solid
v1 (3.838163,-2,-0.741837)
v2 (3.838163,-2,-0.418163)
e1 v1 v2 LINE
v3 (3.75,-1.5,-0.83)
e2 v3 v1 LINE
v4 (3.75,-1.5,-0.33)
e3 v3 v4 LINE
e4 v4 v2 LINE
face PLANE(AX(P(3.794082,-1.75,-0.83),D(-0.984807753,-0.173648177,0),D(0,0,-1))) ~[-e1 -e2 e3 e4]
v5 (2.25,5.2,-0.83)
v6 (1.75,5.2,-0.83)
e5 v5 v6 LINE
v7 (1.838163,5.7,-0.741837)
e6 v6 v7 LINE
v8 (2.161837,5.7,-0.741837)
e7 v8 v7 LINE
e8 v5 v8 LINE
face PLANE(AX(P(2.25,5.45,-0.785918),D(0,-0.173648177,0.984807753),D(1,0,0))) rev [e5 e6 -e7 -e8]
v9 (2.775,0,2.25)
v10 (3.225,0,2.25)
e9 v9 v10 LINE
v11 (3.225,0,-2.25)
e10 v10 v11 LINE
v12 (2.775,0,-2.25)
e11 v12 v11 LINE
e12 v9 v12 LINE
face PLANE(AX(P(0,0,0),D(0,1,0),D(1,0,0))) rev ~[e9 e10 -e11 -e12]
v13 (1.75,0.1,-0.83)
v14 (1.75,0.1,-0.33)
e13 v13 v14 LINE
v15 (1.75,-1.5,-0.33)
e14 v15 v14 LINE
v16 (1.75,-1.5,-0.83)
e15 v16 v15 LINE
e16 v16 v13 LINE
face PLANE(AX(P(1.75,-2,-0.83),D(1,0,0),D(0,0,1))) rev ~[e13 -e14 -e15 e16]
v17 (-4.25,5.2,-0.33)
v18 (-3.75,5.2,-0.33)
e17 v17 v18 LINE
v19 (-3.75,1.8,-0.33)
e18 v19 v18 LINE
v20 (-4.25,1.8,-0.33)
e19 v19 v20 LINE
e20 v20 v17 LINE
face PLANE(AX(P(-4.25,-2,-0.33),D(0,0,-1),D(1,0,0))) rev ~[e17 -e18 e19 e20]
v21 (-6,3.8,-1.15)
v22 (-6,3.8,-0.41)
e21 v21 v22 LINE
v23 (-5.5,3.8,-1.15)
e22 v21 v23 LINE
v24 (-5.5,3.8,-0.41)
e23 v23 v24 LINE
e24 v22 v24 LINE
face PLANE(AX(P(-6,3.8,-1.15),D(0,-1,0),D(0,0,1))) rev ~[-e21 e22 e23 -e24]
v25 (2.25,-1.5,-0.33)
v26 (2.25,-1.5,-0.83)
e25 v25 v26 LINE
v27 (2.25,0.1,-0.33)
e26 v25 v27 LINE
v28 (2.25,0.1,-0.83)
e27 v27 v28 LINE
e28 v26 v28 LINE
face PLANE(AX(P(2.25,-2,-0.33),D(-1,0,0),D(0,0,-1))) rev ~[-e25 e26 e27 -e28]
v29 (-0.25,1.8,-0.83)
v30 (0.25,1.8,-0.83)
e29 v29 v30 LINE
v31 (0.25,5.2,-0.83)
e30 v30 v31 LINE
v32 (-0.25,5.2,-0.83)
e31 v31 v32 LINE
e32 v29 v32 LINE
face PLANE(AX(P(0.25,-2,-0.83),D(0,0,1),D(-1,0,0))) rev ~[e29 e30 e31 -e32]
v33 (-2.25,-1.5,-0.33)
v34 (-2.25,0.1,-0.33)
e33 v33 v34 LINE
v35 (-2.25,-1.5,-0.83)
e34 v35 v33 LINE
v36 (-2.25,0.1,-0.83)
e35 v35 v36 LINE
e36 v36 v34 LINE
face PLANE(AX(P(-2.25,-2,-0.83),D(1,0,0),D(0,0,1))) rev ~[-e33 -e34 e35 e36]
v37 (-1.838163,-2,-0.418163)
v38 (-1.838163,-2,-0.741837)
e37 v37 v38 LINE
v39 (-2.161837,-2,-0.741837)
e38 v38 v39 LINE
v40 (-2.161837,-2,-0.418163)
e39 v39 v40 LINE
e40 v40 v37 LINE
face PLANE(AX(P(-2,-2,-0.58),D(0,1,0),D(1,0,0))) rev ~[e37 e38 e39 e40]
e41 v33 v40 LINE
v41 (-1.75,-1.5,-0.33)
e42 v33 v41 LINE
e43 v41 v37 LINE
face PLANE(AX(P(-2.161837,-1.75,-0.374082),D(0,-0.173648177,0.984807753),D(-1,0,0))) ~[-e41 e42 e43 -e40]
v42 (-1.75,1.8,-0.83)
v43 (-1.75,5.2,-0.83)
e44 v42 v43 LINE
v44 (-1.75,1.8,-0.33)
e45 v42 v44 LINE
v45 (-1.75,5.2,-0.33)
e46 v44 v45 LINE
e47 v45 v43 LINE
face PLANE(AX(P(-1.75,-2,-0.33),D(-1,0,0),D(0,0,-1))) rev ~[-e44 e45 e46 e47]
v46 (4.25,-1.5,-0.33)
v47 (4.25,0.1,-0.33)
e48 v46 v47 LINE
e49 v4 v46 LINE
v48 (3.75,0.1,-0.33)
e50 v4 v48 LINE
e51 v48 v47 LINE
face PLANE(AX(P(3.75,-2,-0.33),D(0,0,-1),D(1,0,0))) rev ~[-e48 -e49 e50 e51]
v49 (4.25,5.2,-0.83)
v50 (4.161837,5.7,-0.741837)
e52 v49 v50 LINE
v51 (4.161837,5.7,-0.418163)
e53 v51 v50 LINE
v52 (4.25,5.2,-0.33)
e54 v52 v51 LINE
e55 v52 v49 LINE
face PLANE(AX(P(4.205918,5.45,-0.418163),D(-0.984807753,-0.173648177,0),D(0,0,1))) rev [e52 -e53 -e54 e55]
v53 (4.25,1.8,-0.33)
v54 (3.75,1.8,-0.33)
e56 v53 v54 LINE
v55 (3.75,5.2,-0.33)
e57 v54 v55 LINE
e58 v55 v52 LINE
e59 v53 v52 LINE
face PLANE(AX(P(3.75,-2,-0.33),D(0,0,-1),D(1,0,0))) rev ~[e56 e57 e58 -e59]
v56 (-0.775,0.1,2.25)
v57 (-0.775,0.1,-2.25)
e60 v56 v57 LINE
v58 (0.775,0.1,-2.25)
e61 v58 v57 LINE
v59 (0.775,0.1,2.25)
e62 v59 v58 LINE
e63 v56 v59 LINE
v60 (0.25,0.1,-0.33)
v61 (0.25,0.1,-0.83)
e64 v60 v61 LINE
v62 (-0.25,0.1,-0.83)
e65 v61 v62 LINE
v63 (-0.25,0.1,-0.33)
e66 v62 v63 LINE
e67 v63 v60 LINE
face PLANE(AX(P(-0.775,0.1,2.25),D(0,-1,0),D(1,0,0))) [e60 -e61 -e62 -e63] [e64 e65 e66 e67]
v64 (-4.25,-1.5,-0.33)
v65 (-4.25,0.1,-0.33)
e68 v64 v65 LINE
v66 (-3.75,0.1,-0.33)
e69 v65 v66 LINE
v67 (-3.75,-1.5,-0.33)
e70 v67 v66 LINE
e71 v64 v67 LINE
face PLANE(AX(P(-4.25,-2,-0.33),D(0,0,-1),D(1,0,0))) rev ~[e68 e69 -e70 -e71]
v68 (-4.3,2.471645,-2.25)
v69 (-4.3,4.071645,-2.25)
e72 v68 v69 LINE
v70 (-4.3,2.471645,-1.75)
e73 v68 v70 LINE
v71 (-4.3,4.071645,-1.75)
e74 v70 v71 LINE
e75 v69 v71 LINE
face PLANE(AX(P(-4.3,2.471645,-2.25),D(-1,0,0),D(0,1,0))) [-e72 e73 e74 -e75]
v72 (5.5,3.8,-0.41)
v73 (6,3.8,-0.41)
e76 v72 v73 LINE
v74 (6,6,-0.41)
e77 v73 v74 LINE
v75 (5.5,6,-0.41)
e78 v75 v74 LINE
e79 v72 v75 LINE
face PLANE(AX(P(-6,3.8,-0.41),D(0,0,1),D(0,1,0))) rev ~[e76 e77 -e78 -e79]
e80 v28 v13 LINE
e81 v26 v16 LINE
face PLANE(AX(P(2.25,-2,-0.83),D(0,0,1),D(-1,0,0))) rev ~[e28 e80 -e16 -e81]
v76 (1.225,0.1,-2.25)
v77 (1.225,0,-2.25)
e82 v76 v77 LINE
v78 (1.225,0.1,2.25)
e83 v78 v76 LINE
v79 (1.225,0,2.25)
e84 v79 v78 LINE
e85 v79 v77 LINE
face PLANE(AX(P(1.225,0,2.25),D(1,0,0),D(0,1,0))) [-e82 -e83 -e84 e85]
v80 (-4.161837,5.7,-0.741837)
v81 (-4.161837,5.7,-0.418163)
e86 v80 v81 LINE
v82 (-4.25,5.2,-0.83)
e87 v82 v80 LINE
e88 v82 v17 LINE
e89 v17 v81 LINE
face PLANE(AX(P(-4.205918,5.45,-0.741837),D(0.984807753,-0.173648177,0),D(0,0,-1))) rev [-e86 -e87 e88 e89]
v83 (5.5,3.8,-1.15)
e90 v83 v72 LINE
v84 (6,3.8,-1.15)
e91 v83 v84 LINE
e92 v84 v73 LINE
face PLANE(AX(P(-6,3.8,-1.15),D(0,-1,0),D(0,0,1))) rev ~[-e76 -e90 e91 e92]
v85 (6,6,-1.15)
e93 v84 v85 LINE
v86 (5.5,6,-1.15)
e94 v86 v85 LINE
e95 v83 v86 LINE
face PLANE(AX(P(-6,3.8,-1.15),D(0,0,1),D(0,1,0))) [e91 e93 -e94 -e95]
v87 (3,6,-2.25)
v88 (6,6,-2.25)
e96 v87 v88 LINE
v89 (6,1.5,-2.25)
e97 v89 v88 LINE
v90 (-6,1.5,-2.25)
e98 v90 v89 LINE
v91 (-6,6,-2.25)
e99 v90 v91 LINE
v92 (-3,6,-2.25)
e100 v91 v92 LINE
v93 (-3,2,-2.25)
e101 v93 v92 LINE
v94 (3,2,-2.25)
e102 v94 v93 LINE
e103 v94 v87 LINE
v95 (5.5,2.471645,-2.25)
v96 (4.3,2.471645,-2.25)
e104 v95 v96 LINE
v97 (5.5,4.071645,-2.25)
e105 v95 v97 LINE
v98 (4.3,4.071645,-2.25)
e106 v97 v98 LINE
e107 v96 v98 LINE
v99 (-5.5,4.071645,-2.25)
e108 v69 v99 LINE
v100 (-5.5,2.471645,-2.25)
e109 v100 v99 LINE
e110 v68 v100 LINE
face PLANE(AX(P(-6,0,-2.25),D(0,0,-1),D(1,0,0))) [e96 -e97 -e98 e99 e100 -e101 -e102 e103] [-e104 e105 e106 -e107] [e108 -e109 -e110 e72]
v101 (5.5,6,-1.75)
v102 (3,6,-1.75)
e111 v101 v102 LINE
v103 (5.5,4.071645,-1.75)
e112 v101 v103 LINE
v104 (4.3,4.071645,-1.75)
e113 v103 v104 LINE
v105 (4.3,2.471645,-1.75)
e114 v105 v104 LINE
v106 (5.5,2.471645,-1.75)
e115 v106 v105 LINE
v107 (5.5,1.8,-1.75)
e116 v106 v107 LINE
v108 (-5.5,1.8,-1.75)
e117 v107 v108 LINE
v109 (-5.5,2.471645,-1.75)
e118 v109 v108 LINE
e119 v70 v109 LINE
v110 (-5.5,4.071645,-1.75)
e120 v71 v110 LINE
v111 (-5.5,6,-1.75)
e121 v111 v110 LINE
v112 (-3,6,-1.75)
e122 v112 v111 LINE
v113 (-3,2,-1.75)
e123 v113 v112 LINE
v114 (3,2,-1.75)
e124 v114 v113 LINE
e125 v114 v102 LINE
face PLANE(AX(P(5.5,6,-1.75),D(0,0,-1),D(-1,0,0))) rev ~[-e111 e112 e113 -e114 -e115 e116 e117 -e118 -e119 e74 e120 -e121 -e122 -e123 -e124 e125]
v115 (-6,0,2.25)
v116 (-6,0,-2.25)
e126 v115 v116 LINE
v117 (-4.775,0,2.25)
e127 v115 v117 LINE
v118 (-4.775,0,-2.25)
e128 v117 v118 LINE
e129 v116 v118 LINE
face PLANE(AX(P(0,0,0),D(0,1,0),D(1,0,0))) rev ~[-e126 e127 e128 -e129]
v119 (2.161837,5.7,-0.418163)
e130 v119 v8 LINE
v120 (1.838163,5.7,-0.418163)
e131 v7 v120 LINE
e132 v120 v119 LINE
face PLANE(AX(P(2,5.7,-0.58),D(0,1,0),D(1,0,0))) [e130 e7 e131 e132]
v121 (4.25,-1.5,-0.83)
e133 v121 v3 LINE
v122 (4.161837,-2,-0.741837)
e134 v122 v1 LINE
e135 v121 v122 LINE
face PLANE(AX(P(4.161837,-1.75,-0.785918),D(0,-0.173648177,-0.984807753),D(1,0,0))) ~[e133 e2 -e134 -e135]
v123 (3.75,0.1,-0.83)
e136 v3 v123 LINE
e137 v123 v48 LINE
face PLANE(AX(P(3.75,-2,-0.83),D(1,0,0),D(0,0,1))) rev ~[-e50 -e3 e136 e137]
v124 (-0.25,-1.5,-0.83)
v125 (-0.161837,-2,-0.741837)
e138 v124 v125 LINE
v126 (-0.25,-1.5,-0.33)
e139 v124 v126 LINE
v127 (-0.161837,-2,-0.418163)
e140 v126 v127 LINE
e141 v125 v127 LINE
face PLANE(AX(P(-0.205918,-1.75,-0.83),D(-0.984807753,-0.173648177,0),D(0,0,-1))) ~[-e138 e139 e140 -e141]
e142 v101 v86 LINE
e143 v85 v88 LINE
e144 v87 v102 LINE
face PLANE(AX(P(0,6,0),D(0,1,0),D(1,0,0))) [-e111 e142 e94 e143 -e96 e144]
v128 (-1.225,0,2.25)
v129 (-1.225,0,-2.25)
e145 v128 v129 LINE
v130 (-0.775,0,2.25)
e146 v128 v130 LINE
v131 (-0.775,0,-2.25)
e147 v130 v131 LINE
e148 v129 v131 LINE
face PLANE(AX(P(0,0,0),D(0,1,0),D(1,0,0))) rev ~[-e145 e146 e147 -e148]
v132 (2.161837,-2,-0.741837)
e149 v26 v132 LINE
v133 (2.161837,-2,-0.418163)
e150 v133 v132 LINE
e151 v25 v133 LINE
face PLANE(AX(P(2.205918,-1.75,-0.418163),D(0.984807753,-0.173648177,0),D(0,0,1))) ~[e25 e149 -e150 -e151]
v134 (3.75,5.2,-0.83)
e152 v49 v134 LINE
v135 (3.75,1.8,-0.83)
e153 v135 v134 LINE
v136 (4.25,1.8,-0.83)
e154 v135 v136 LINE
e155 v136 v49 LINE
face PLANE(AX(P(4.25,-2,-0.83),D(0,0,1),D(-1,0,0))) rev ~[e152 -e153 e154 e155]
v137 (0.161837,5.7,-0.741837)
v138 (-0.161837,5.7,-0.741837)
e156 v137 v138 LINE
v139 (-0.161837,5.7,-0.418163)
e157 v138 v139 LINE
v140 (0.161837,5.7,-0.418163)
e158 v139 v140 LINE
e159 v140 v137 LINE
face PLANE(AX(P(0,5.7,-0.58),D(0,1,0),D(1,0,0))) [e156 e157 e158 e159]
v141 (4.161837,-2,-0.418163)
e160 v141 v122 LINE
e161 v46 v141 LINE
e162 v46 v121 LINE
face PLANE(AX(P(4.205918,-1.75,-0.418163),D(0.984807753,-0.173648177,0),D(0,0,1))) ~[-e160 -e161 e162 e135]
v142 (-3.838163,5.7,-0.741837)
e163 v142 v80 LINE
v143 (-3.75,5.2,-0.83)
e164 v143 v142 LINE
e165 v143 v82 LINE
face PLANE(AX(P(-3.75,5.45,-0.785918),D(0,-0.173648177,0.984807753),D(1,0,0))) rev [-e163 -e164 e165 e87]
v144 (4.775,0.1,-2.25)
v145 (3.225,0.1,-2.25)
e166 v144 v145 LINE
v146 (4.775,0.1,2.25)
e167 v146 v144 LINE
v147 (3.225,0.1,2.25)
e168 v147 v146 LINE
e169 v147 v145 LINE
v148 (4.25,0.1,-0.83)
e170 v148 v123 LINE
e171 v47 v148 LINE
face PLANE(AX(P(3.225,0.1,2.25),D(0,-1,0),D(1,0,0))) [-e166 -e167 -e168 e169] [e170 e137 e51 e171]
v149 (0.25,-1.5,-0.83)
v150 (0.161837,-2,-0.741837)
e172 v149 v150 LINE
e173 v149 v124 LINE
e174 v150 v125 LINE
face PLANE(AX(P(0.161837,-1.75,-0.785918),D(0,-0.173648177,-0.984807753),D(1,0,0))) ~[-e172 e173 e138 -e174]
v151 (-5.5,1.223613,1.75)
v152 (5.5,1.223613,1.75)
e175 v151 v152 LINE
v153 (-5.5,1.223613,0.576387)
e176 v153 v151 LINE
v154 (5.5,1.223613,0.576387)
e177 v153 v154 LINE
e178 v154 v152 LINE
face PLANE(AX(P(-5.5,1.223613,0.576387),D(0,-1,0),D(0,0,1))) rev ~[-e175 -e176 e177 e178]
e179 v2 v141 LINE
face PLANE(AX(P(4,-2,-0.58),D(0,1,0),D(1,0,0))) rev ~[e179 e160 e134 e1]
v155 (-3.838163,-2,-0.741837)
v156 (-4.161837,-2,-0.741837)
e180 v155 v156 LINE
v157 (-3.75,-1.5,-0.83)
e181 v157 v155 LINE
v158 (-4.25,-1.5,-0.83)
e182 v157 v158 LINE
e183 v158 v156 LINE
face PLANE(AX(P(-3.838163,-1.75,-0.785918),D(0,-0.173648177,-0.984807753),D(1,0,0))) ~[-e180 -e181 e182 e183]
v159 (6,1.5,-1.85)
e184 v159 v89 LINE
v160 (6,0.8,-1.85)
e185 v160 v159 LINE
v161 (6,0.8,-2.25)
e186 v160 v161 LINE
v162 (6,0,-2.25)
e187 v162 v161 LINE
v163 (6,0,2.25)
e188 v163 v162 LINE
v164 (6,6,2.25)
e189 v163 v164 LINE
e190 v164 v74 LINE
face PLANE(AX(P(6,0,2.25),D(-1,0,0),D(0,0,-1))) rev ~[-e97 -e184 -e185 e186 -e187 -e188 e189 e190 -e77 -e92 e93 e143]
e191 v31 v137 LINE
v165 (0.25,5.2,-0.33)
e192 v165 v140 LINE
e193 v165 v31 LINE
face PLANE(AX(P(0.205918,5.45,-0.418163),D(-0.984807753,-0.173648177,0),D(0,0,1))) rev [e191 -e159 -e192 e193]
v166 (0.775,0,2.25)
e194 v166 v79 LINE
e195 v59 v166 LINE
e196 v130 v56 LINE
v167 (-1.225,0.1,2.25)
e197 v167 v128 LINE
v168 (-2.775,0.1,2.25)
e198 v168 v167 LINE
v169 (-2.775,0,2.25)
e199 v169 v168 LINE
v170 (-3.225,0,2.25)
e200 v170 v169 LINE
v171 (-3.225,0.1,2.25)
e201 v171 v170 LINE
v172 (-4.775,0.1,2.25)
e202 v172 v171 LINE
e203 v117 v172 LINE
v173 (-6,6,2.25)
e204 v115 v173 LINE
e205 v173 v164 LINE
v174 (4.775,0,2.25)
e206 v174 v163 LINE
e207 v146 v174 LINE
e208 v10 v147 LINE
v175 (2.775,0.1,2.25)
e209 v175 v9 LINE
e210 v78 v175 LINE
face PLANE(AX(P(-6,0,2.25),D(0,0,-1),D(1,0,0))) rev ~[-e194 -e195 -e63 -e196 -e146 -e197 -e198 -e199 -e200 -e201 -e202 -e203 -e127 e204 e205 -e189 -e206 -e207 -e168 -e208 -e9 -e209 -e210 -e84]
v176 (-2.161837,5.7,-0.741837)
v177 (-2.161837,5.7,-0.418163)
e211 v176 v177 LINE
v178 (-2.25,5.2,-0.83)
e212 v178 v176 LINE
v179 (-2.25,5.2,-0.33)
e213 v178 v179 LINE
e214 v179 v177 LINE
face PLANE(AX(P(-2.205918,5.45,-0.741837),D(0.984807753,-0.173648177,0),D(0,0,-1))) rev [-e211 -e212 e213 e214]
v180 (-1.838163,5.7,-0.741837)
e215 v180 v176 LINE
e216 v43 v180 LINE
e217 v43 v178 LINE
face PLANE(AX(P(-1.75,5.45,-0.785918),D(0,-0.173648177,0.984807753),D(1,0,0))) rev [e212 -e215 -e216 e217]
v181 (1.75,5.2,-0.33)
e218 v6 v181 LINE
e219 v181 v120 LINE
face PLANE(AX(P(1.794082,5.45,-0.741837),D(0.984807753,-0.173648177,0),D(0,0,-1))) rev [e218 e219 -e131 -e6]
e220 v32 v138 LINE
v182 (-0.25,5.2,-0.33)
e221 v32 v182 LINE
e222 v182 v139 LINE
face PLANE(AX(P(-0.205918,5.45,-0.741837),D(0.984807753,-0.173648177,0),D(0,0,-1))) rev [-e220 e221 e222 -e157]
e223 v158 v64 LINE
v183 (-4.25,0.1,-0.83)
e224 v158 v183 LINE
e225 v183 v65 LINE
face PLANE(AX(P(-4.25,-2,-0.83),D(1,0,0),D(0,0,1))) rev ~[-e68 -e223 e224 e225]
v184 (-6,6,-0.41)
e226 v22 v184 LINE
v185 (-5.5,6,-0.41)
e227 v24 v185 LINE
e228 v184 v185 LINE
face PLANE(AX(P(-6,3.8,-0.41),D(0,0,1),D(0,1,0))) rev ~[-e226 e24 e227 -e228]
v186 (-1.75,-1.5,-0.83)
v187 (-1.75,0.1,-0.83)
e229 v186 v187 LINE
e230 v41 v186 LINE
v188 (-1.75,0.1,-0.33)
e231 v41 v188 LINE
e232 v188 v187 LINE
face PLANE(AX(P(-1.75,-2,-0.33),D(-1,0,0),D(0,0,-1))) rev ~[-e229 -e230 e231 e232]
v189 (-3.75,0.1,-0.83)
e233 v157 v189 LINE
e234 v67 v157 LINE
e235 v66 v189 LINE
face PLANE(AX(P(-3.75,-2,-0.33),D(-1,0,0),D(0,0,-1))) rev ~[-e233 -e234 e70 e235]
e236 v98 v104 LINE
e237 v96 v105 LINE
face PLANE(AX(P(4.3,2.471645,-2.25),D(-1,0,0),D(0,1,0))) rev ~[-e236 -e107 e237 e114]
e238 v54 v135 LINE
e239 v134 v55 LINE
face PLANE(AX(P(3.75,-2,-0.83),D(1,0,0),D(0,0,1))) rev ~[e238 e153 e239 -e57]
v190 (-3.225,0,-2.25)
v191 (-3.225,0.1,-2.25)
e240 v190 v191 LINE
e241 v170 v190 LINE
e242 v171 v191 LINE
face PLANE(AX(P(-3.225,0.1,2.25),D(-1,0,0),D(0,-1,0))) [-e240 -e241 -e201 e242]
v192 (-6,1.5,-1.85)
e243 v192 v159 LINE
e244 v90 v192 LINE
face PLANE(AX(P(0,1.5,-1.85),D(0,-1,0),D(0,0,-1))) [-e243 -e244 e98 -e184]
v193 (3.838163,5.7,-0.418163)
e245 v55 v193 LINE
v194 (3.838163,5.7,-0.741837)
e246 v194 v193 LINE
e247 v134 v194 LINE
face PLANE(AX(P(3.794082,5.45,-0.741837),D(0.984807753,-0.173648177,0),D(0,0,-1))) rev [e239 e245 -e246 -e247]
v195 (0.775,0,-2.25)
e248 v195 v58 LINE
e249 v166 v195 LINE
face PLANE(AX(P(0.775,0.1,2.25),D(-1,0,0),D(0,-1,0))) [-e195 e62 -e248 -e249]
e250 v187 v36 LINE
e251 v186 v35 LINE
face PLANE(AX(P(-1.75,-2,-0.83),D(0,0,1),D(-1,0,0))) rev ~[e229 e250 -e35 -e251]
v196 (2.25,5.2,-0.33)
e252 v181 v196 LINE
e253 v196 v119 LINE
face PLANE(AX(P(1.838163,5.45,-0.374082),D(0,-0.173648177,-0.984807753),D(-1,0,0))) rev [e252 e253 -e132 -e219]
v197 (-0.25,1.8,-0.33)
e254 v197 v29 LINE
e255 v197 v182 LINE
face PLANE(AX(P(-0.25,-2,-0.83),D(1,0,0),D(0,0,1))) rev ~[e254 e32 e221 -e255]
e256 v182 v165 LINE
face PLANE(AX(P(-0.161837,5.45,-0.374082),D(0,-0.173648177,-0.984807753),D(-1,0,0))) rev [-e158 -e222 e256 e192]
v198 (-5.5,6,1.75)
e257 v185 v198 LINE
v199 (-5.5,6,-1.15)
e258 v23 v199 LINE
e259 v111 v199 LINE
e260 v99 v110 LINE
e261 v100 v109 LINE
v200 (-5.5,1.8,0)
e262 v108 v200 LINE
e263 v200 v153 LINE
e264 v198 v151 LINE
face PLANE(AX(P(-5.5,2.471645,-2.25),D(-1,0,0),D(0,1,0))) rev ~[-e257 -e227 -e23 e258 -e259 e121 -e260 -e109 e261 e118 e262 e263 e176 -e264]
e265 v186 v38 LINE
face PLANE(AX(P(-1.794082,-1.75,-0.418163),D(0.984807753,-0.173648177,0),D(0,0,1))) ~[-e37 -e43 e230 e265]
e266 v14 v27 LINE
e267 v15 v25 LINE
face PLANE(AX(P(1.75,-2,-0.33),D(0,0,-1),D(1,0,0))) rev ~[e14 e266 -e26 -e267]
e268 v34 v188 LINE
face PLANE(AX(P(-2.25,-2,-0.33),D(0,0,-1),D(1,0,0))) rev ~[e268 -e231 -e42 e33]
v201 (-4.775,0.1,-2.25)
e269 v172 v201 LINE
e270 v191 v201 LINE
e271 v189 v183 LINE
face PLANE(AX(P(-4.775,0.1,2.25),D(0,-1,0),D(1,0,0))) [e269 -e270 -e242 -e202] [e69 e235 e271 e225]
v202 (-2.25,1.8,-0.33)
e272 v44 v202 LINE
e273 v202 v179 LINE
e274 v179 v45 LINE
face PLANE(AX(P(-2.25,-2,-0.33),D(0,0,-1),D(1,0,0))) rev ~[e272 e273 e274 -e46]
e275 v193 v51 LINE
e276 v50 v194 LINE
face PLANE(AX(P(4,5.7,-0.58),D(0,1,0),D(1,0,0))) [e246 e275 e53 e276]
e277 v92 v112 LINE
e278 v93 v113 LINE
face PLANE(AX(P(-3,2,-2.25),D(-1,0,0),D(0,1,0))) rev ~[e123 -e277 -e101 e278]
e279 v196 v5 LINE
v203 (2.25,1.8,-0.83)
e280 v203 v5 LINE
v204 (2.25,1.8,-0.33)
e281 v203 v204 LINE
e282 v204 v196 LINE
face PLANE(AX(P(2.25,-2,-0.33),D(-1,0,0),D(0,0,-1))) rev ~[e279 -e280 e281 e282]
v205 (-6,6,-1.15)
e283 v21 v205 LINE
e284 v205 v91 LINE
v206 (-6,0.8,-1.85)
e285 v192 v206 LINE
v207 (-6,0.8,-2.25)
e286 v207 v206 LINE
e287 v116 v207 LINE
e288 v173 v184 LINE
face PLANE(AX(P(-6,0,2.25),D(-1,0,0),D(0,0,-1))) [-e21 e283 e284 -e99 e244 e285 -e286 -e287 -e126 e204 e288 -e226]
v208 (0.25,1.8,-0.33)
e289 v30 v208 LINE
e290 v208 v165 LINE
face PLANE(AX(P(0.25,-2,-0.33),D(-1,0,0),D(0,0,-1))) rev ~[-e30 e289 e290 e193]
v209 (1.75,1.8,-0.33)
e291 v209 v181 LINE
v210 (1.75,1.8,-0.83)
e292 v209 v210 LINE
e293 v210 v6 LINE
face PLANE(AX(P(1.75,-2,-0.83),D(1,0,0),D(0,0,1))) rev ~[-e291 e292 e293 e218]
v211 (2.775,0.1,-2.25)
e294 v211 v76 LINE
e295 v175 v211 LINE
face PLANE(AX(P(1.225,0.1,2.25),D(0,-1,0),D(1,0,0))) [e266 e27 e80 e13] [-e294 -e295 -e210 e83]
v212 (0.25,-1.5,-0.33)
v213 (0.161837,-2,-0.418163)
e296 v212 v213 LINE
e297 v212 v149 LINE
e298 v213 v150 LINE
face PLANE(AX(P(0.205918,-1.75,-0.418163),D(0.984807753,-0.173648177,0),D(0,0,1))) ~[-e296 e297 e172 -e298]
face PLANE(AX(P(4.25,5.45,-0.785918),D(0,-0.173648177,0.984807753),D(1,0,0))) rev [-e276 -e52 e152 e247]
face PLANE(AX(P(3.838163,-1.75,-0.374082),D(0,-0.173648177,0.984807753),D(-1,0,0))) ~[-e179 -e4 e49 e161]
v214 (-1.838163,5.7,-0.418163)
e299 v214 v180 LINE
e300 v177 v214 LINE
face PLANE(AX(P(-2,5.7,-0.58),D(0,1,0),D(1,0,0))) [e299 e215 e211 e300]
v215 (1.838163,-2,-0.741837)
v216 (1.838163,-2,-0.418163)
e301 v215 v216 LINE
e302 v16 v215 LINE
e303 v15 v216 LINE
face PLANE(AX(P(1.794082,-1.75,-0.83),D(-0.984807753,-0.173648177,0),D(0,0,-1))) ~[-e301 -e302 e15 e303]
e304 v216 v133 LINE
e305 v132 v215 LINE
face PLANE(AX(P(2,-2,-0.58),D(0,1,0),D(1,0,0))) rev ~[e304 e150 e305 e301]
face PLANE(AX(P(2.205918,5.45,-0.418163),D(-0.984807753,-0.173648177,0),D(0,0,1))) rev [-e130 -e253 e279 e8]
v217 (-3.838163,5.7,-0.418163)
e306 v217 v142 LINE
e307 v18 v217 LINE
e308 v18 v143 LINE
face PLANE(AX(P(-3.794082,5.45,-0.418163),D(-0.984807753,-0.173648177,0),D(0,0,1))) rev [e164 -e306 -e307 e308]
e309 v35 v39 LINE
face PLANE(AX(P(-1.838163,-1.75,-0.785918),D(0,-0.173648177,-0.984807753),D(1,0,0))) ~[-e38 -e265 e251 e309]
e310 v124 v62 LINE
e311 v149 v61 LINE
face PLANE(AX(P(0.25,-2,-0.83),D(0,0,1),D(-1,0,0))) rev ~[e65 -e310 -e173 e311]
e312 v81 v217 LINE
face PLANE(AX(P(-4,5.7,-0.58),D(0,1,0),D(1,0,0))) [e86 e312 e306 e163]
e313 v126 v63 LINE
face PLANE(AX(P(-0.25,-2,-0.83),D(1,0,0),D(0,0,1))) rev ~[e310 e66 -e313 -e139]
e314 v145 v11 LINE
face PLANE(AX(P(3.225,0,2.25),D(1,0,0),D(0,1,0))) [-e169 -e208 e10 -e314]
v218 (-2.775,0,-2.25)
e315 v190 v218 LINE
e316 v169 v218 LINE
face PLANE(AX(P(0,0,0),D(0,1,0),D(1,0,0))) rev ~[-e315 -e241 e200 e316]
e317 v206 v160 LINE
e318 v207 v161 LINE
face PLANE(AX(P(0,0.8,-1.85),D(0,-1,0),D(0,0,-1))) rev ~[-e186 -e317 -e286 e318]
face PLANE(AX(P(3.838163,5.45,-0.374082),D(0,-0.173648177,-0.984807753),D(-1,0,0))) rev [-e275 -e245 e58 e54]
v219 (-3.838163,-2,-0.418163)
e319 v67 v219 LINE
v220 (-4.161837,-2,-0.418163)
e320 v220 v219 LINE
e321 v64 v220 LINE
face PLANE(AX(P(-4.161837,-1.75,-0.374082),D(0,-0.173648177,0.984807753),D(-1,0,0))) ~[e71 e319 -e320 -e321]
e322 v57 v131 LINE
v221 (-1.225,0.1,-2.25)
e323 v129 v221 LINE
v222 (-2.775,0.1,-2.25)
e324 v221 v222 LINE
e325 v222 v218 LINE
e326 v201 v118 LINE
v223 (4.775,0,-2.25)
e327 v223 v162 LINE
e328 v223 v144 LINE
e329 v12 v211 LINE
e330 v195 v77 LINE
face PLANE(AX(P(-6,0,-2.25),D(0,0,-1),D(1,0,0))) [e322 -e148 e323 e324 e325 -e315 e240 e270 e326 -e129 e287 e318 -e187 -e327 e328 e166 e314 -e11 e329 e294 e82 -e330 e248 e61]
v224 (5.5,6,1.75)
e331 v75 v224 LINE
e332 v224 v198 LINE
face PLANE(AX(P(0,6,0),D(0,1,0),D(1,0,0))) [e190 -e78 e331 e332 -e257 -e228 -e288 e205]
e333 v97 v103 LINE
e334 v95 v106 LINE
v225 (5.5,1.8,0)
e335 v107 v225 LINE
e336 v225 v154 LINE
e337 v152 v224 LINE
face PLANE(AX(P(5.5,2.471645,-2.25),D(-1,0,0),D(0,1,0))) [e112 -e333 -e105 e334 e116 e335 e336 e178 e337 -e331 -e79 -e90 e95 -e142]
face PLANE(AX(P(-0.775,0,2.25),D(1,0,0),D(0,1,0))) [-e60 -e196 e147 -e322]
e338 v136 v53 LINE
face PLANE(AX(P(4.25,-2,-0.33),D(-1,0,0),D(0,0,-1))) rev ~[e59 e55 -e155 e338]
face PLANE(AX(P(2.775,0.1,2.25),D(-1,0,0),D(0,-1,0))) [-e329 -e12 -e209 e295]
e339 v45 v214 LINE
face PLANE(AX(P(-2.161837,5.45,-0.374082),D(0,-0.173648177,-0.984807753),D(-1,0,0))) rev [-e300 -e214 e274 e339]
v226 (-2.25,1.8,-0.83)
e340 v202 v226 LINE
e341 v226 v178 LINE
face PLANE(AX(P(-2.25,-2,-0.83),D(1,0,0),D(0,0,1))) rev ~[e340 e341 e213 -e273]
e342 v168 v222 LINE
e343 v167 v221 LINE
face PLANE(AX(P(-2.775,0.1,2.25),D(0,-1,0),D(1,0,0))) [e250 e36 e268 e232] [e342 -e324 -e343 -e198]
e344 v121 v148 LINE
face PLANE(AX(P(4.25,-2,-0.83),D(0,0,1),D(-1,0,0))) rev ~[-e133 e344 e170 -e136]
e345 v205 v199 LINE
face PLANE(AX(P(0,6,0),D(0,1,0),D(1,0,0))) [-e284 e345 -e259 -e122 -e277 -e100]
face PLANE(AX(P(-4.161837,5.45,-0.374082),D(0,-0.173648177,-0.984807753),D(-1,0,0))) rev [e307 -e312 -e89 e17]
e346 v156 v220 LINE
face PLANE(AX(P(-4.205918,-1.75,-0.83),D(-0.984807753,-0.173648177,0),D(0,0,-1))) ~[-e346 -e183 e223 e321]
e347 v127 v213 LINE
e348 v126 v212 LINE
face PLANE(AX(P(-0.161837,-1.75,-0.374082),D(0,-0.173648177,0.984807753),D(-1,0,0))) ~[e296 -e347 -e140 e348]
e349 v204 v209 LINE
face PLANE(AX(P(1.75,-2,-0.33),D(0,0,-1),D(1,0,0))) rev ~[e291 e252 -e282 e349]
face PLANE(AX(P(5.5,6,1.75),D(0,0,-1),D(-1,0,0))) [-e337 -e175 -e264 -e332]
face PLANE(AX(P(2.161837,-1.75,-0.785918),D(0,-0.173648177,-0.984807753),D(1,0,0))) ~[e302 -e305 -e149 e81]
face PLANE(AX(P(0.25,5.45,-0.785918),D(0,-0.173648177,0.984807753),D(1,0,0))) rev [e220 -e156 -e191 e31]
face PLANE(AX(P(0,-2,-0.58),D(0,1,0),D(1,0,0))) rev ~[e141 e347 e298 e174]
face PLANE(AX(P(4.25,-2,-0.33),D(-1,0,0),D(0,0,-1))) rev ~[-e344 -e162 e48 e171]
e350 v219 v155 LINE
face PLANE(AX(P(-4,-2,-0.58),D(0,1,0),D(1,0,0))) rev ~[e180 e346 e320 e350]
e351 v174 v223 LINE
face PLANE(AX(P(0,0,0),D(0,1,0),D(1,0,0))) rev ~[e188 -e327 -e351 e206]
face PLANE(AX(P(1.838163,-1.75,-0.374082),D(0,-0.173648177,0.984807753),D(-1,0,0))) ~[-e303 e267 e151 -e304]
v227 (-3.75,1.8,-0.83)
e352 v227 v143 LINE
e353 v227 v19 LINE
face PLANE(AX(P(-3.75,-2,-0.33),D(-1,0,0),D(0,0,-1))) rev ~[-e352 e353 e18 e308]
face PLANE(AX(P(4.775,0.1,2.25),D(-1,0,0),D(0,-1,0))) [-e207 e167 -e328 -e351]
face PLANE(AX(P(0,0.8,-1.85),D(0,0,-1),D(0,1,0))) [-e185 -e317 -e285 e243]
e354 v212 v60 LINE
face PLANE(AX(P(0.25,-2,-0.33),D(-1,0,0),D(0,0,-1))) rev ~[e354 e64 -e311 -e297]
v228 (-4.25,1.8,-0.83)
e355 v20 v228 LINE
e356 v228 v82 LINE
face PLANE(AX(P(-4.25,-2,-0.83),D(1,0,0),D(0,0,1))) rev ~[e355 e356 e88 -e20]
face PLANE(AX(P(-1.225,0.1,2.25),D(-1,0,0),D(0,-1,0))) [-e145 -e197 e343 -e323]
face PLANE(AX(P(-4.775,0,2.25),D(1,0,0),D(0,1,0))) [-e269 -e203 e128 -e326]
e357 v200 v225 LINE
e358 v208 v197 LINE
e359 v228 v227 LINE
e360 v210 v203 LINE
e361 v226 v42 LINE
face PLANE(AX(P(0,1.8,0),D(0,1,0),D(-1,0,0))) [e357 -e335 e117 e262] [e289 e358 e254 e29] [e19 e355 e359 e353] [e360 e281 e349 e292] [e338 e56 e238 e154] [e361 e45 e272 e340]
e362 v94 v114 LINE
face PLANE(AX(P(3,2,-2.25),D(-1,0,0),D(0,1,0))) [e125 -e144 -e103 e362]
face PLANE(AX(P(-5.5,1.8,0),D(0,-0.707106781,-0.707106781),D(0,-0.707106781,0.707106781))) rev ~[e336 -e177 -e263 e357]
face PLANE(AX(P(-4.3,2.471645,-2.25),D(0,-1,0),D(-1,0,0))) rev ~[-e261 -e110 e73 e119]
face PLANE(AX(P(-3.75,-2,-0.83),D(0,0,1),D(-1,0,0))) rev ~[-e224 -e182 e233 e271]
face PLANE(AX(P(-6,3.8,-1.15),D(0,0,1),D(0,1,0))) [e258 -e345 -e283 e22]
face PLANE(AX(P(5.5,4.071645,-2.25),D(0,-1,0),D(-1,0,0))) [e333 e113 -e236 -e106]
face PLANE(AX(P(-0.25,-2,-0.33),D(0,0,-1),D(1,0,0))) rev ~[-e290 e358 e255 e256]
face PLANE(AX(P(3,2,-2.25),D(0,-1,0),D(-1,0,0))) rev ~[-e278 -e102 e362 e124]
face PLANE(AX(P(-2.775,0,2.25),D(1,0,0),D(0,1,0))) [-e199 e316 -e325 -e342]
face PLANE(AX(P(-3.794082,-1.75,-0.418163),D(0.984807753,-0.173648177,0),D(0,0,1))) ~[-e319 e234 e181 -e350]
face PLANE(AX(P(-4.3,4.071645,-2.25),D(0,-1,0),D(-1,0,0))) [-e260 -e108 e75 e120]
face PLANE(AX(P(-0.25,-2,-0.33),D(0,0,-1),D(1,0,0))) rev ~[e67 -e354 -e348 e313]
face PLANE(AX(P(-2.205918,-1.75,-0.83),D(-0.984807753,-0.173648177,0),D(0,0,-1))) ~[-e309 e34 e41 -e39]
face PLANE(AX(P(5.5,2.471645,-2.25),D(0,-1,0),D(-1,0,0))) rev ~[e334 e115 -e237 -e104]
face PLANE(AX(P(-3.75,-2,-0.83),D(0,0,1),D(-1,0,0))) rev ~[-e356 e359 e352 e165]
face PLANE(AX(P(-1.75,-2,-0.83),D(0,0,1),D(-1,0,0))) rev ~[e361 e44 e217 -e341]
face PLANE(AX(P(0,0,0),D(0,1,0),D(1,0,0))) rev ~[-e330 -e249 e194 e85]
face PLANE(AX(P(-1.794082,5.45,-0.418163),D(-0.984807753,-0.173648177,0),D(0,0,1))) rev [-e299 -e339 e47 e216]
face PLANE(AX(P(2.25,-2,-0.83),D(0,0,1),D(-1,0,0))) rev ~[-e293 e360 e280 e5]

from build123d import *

# Parameters (mm, degrees)
SKETCH1_W               = 12
SKETCH1_H               = 4.5
EXTRUDE1_DEPTH          = 6
CUT_EXTRUDE1_DEPTH      = 5.5
SKETCH3_W               = 11
SKETCH3_H               = 3.5
CUT_EXTRUDE2_DEPTH      = 4.2
SKETCH5_W               = 0.74
SKETCH5_H               = 2.2
CUT_EXTRUDE3_DEPTH      = 13
SKETCH6_W               = 6
SKETCH6_H               = 4
CUT_EXTRUDE4_DEPTH      = 1.2
SKETCH9_W               = 0.4
SKETCH9_H               = 0.7
CUT_EXTRUDE5_DEPTH      = 7
CUT_EXTRUDE5_DEPTH_BACK = 7
SKETCH10_W              = 1.2
SKETCH10_H              = 1.6
CUT_EXTRUDE6_DEPTH      = 0.5
CUT_EXTRUDE7_START      = -5.5
CUT_EXTRUDE7_DEPTH      = 11
LPATTERN4_COUNT         = 3
LPATTERN4_PITCH         = 2
LPATTERN4_COL_COUNT     = 3
LPATTERN4_COL_PITCH     = 2
EXTRUDE2_START          = -2
EXTRUDE2_DEPTH          = 7.7
LPATTERN2_COUNT         = 3
LPATTERN2_PITCH         = 2
LPATTERN2_COL_COUNT     = 3
LPATTERN2_COL_PITCH     = 2
CHAMFER1_SIZE           = 0.5
CHAMFER1_SIZE2          = 0.08816349
CHAMFER1_PART_2_SIZE    = 0.5
CHAMFER1_PART_2_SIZE2   = 0.08816349
CHAMFER1_PART_3_SIZE    = 0.5
CHAMFER1_PART_3_SIZE2   = 0.08816349
CHAMFER1_PART_4_SIZE    = 0.5
CHAMFER1_PART_4_SIZE2   = 0.08816349
CHAMFER1_PART_5_SIZE    = 0.5
CHAMFER1_PART_5_SIZE2   = 0.08816349
CHAMFER1_PART_6_SIZE    = 0.5
CHAMFER1_PART_6_SIZE2   = 0.08816349
CHAMFER1_PART_7_SIZE    = 0.5
CHAMFER1_PART_7_SIZE2   = 0.08816349
CHAMFER1_PART_8_SIZE    = 0.5
CHAMFER1_PART_8_SIZE2   = 0.08816349
CHAMFER1_PART_9_SIZE    = 0.5
CHAMFER1_PART_9_SIZE2   = 0.08816349
CHAMFER1_PART_10_SIZE   = 0.5
CHAMFER1_PART_10_SIZE2  = 0.08816349
CHAMFER1_PART_11_SIZE   = 0.5
CHAMFER1_PART_11_SIZE2  = 0.08816349
CHAMFER1_PART_12_SIZE   = 0.5
CHAMFER1_PART_12_SIZE2  = 0.08816349
CHAMFER1_PART_13_SIZE   = 0.5
CHAMFER1_PART_13_SIZE2  = 0.08816349
CHAMFER1_PART_14_SIZE   = 0.5
CHAMFER1_PART_14_SIZE2  = 0.08816349
CHAMFER1_PART_15_SIZE   = 0.5
CHAMFER1_PART_15_SIZE2  = 0.08816349
CHAMFER1_PART_16_SIZE   = 0.5
CHAMFER1_PART_16_SIZE2  = 0.08816349
CHAMFER1_PART_17_SIZE   = 0.5
CHAMFER1_PART_17_SIZE2  = 0.08816349
CHAMFER1_PART_18_SIZE   = 0.5
CHAMFER1_PART_18_SIZE2  = 0.08816349
CHAMFER1_PART_19_SIZE   = 0.5
CHAMFER1_PART_19_SIZE2  = 0.08816349
CHAMFER1_PART_20_SIZE   = 0.5
CHAMFER1_PART_20_SIZE2  = 0.08816349
CHAMFER1_PART_21_SIZE   = 0.5
CHAMFER1_PART_21_SIZE2  = 0.08816349
CHAMFER1_PART_22_SIZE   = 0.5
CHAMFER1_PART_22_SIZE2  = 0.08816349
CHAMFER1_PART_23_SIZE   = 0.5
CHAMFER1_PART_23_SIZE2  = 0.08816349
CHAMFER1_PART_24_SIZE   = 0.5
CHAMFER1_PART_24_SIZE2  = 0.08816349
CHAMFER1_PART_25_SIZE   = 0.5
CHAMFER1_PART_25_SIZE2  = 0.08816349
CHAMFER1_PART_26_SIZE   = 0.5
CHAMFER1_PART_26_SIZE2  = 0.08816349
CHAMFER1_PART_27_SIZE   = 0.5
CHAMFER1_PART_27_SIZE2  = 0.08816349
CHAMFER1_PART_28_SIZE   = 0.5
CHAMFER1_PART_28_SIZE2  = 0.08816349
CHAMFER1_PART_29_SIZE   = 0.5
CHAMFER1_PART_29_SIZE2  = 0.08816349
CHAMFER1_PART_30_SIZE   = 0.5
CHAMFER1_PART_30_SIZE2  = 0.08816349
CHAMFER1_PART_31_SIZE   = 0.5
CHAMFER1_PART_31_SIZE2  = 0.08816349
CHAMFER1_PART_32_SIZE   = 0.5
CHAMFER1_PART_32_SIZE2  = 0.08816349
CHAMFER1_PART_33_SIZE   = 0.5
CHAMFER1_PART_33_SIZE2  = 0.08816349
CHAMFER1_PART_34_SIZE   = 0.5
CHAMFER1_PART_34_SIZE2  = 0.08816349
CHAMFER1_PART_35_SIZE   = 0.5
CHAMFER1_PART_35_SIZE2  = 0.08816349
CHAMFER1_PART_36_SIZE   = 0.5
CHAMFER1_PART_36_SIZE2  = 0.08816349
CHAMFER1_PART_37_SIZE   = 0.5
CHAMFER1_PART_37_SIZE2  = 0.08816349
CHAMFER1_PART_38_SIZE   = 0.5
CHAMFER1_PART_38_SIZE2  = 0.08816349
CHAMFER1_PART_39_SIZE   = 0.5
CHAMFER1_PART_39_SIZE2  = 0.08816349
CHAMFER1_PART_40_SIZE   = 0.5
CHAMFER1_PART_40_SIZE2  = 0.08816349


with BuildPart() as part:
    # Sketch1 → Extrude1 (new body)
    with BuildSketch(Plane(origin=(0, 0, 0), x_dir=(1, 0, 0), z_dir=(0, 1, 0))):
        Rectangle(SKETCH1_W, SKETCH1_H)
    extrude(amount=EXTRUDE1_DEPTH)

    # Sketch2 → Cut-Extrude1 (cut, through all)
    with BuildSketch(Plane.XY.offset(2.25)):
        Polygon((-0.775, 0.1), (0.775, 0.1), (0.775, 0), (0, 0), (-0.775, 0), align=None)
    cut_extrude1 = extrude(amount=-CUT_EXTRUDE1_DEPTH, mode=Mode.SUBTRACT)

    # Sketch3 → Cut-Extrude2 (cut)
    with BuildSketch(Plane(origin=(0, 6, 0), x_dir=(-1, 0, 0), z_dir=(0, 1, 0))):
        Rectangle(SKETCH3_W, SKETCH3_H)
    extrude(amount=-CUT_EXTRUDE2_DEPTH, mode=Mode.SUBTRACT)

    # Sketch5 → Cut-Extrude3 (cut, through all)
    with BuildSketch(Plane.ZY.offset(6)):
        with Locations((-0.78, 4.9)):
            Rectangle(SKETCH5_W, SKETCH5_H)
    extrude(amount=-CUT_EXTRUDE3_DEPTH, mode=Mode.SUBTRACT)

    # Sketch6 → Cut-Extrude4 (cut)
    with BuildSketch(Plane(origin=(0, 0, -2.25), x_dir=(-1, 0, 0), z_dir=(0, 0, -1))):
        with Locations((0, 4)):
            Rectangle(SKETCH6_W, SKETCH6_H)
    extrude(amount=-CUT_EXTRUDE4_DEPTH, mode=Mode.SUBTRACT)

    # Sketch9 → Cut-Extrude5 (cut, two sides)
    with BuildSketch(Plane(origin=(0, 0, 0), x_dir=(0, 0, -1), z_dir=(1, 0, 0))) as cut_extrude5_sk:
        with Locations((2.05, 1.15)):
            Rectangle(SKETCH9_W, SKETCH9_H)
    extrude(amount=CUT_EXTRUDE5_DEPTH, mode=Mode.SUBTRACT)
    extrude(cut_extrude5_sk.sketch, amount=-CUT_EXTRUDE5_DEPTH_BACK, mode=Mode.SUBTRACT)

    # Sketch10 → Cut-Extrude6 (cut)
    with BuildSketch(Plane(origin=(0, 0, -2.25), x_dir=(-1, 0, 0), z_dir=(0, 0, -1))):
        with Locations((-4.9, 3.271645398)):
            Rectangle(SKETCH10_W, SKETCH10_H)
        with Locations((4.9, 3.271645398)):
            Rectangle(SKETCH10_W, SKETCH10_H)
    extrude(amount=-CUT_EXTRUDE6_DEPTH, mode=Mode.SUBTRACT)

    # Sketch11 → Cut-Extrude7 (cut)
    with BuildSketch(Plane(origin=(0, 0, 0), x_dir=(0, 0, -1), z_dir=(1, 0, 0)).offset(CUT_EXTRUDE7_START)):
        Polygon((0, 1.8), (-0.576387184, 1.223612816), (-1.75, 1.223612816), (-1.75, 1.8), align=None)
    extrude(amount=CUT_EXTRUDE7_DEPTH, mode=Mode.SUBTRACT)

    # LPattern4: Cut-Extrude1 ×3
    with Locations(*[(i * LPATTERN4_PITCH, 0, 0) for i in range(1, LPATTERN4_COUNT)]):
        add(cut_extrude1, mode=Mode.SUBTRACT)

    # LPattern4 col: Cut-Extrude1 ×3
    with Locations(*[(-i * LPATTERN4_COL_PITCH, 0, 0) for i in range(1, LPATTERN4_COL_COUNT)]):
        add(cut_extrude1, mode=Mode.SUBTRACT)

    # Sketch7 → Extrude2 (add)
    with BuildSketch(Plane(origin=(0, 0, 0), x_dir=(1, 0, 0), z_dir=(0, 1, 0)).offset(EXTRUDE2_START)):
        Polygon((0, 0.33), (0.25, 0.33), (0.25, 0.83), (-0.25, 0.83), (-0.25, 0.33), align=None)
    extrude2 = extrude(amount=EXTRUDE2_DEPTH)

    # LPattern2: Extrude2 ×3
    with Locations(*[(i * LPATTERN2_PITCH, 0, 0) for i in range(1, LPATTERN2_COUNT)]):
        add(extrude2)

    # LPattern2 col: Extrude2 ×3
    with Locations(*[(-i * LPATTERN2_COL_PITCH, 0, 0) for i in range(1, LPATTERN2_COL_COUNT)]):
        add(extrude2)

    # Chamfer1
    chamfer1_edges = [part.edges().sort_by_distance(p)[0] for p in [
        (-0.25, -2, -0.58),
    ]]
    chamfer1_side = [part.faces().sort_by_distance(p)[0] for p in [
        (-0.25, -0.95, -0.58),
    ]]
    chamfer(chamfer1_edges, length=CHAMFER1_SIZE, length2=CHAMFER1_SIZE2, reference=chamfer1_side[0])

    # Chamfer1 part 2
    chamfer1_part_2_edges = [part.edges().sort_by_distance(p)[0] for p in [
        (0, -2, -0.33),
    ]]
    chamfer1_part_2_side = [part.faces().sort_by_distance(p)[0] for p in [
        (0, -0.95, -0.33),
    ]]
    chamfer(chamfer1_part_2_edges, length=CHAMFER1_PART_2_SIZE, length2=CHAMFER1_PART_2_SIZE2, reference=chamfer1_part_2_side[0])

    # Chamfer1 part 3
    chamfer1_part_3_edges = [part.edges().sort_by_distance(p)[0] for p in [
        (0.25, -2, -0.58),
    ]]
    chamfer1_part_3_side = [part.faces().sort_by_distance(p)[0] for p in [
        (0.25, -0.95, -0.58),
    ]]
    chamfer(chamfer1_part_3_edges, length=CHAMFER1_PART_3_SIZE, length2=CHAMFER1_PART_3_SIZE2, reference=chamfer1_part_3_side[0])

    # Chamfer1 part 4
    chamfer1_part_4_edges = [part.edges().sort_by_distance(p)[0] for p in [
        (0, -2, -0.83),
    ]]
    chamfer1_part_4_side = [part.faces().sort_by_distance(p)[0] for p in [
        (0, -0.95, -0.83),
    ]]
    chamfer(chamfer1_part_4_edges, length=CHAMFER1_PART_4_SIZE, length2=CHAMFER1_PART_4_SIZE2, reference=chamfer1_part_4_side[0])

    # Chamfer1 part 5
    chamfer1_part_5_edges = [part.edges().sort_by_distance(p)[0] for p in [
        (0, 5.7, -0.83),
    ]]
    chamfer1_part_5_side = [part.faces().sort_by_distance(p)[0] for p in [
        (0, 3.75, -0.83),
    ]]
    chamfer(chamfer1_part_5_edges, length=CHAMFER1_PART_5_SIZE, length2=CHAMFER1_PART_5_SIZE2, reference=chamfer1_part_5_side[0])

    # Chamfer1 part 6
    chamfer1_part_6_edges = [part.edges().sort_by_distance(p)[0] for p in [
        (-0.25, 5.7, -0.58),
    ]]
    chamfer1_part_6_side = [part.faces().sort_by_distance(p)[0] for p in [
        (-0.25, 3.75, -0.58),
    ]]
    chamfer(chamfer1_part_6_edges, length=CHAMFER1_PART_6_SIZE, length2=CHAMFER1_PART_6_SIZE2, reference=chamfer1_part_6_side[0])

    # Chamfer1 part 7
    chamfer1_part_7_edges = [part.edges().sort_by_distance(p)[0] for p in [
        (0, 5.7, -0.33),
    ]]
    chamfer1_part_7_side = [part.faces().sort_by_distance(p)[0] for p in [
        (0, 3.75, -0.33),
    ]]
    chamfer(chamfer1_part_7_edges, length=CHAMFER1_PART_7_SIZE, length2=CHAMFER1_PART_7_SIZE2, reference=chamfer1_part_7_side[0])

    # Chamfer1 part 8
    chamfer1_part_8_edges = [part.edges().sort_by_distance(p)[0] for p in [
        (0.25, 5.7, -0.58),
    ]]
    chamfer1_part_8_side = [part.faces().sort_by_distance(p)[0] for p in [
        (0.25, 3.75, -0.58),
    ]]
    chamfer(chamfer1_part_8_edges, length=CHAMFER1_PART_8_SIZE, length2=CHAMFER1_PART_8_SIZE2, reference=chamfer1_part_8_side[0])

    # Chamfer1 part 9
    chamfer1_part_9_edges = [part.edges().sort_by_distance(p)[0] for p in [
        (-2.25, -2, -0.58),
    ]]
    chamfer1_part_9_side = [part.faces().sort_by_distance(p)[0] for p in [
        (-2.25, -0.95, -0.58),
    ]]
    chamfer(chamfer1_part_9_edges, length=CHAMFER1_PART_9_SIZE, length2=CHAMFER1_PART_9_SIZE2, reference=chamfer1_part_9_side[0])

    # Chamfer1 part 10
    chamfer1_part_10_edges = [part.edges().sort_by_distance(p)[0] for p in [
        (-2, -2, -0.33),
    ]]
    chamfer1_part_10_side = [part.faces().sort_by_distance(p)[0] for p in [
        (-2, -0.95, -0.33),
    ]]
    chamfer(chamfer1_part_10_edges, length=CHAMFER1_PART_10_SIZE, length2=CHAMFER1_PART_10_SIZE2, reference=chamfer1_part_10_side[0])

    # Chamfer1 part 11
    chamfer1_part_11_edges = [part.edges().sort_by_distance(p)[0] for p in [
        (-1.75, -2, -0.58),
    ]]
    chamfer1_part_11_side = [part.faces().sort_by_distance(p)[0] for p in [
        (-1.75, -0.95, -0.58),
    ]]
    chamfer(chamfer1_part_11_edges, length=CHAMFER1_PART_11_SIZE, length2=CHAMFER1_PART_11_SIZE2, reference=chamfer1_part_11_side[0])

    # Chamfer1 part 12
    chamfer1_part_12_edges = [part.edges().sort_by_distance(p)[0] for p in [
        (-2, -2, -0.83),
    ]]
    chamfer1_part_12_side = [part.faces().sort_by_distance(p)[0] for p in [
        (-2, -0.95, -0.83),
    ]]
    chamfer(chamfer1_part_12_edges, length=CHAMFER1_PART_12_SIZE, length2=CHAMFER1_PART_12_SIZE2, reference=chamfer1_part_12_side[0])

    # Chamfer1 part 13
    chamfer1_part_13_edges = [part.edges().sort_by_distance(p)[0] for p in [
        (-2, 5.7, -0.83),
    ]]
    chamfer1_part_13_side = [part.faces().sort_by_distance(p)[0] for p in [
        (-2, 3.75, -0.83),
    ]]
    chamfer(chamfer1_part_13_edges, length=CHAMFER1_PART_13_SIZE, length2=CHAMFER1_PART_13_SIZE2, reference=chamfer1_part_13_side[0])

    # Chamfer1 part 14
    chamfer1_part_14_edges = [part.edges().sort_by_distance(p)[0] for p in [
        (-2.25, 5.7, -0.58),
    ]]
    chamfer1_part_14_side = [part.faces().sort_by_distance(p)[0] for p in [
        (-2.25, 3.75, -0.58),
    ]]
    chamfer(chamfer1_part_14_edges, length=CHAMFER1_PART_14_SIZE, length2=CHAMFER1_PART_14_SIZE2, reference=chamfer1_part_14_side[0])

    # Chamfer1 part 15
    chamfer1_part_15_edges = [part.edges().sort_by_distance(p)[0] for p in [
        (-2, 5.7, -0.33),
    ]]
    chamfer1_part_15_side = [part.faces().sort_by_distance(p)[0] for p in [
        (-2, 3.75, -0.33),
    ]]
    chamfer(chamfer1_part_15_edges, length=CHAMFER1_PART_15_SIZE, length2=CHAMFER1_PART_15_SIZE2, reference=chamfer1_part_15_side[0])

    # Chamfer1 part 16
    chamfer1_part_16_edges = [part.edges().sort_by_distance(p)[0] for p in [
        (-1.75, 5.7, -0.58),
    ]]
    chamfer1_part_16_side = [part.faces().sort_by_distance(p)[0] for p in [
        (-1.75, 3.75, -0.58),
    ]]
    chamfer(chamfer1_part_16_edges, length=CHAMFER1_PART_16_SIZE, length2=CHAMFER1_PART_16_SIZE2, reference=chamfer1_part_16_side[0])

    # Chamfer1 part 17
    chamfer1_part_17_edges = [part.edges().sort_by_distance(p)[0] for p in [
        (-4.25, -2, -0.58),
    ]]
    chamfer1_part_17_side = [part.faces().sort_by_distance(p)[0] for p in [
        (-4.25, -0.95, -0.58),
    ]]
    chamfer(chamfer1_part_17_edges, length=CHAMFER1_PART_17_SIZE, length2=CHAMFER1_PART_17_SIZE2, reference=chamfer1_part_17_side[0])

    # Chamfer1 part 18
    chamfer1_part_18_edges = [part.edges().sort_by_distance(p)[0] for p in [
        (-4, -2, -0.33),
    ]]
    chamfer1_part_18_side = [part.faces().sort_by_distance(p)[0] for p in [
        (-4, -0.95, -0.33),
    ]]
    chamfer(chamfer1_part_18_edges, length=CHAMFER1_PART_18_SIZE, length2=CHAMFER1_PART_18_SIZE2, reference=chamfer1_part_18_side[0])

    # Chamfer1 part 19
    chamfer1_part_19_edges = [part.edges().sort_by_distance(p)[0] for p in [
        (-3.75, -2, -0.58),
    ]]
    chamfer1_part_19_side = [part.faces().sort_by_distance(p)[0] for p in [
        (-3.75, -0.95, -0.58),
    ]]
    chamfer(chamfer1_part_19_edges, length=CHAMFER1_PART_19_SIZE, length2=CHAMFER1_PART_19_SIZE2, reference=chamfer1_part_19_side[0])

    # Chamfer1 part 20
    chamfer1_part_20_edges = [part.edges().sort_by_distance(p)[0] for p in [
        (-4, -2, -0.83),
    ]]
    chamfer1_part_20_side = [part.faces().sort_by_distance(p)[0] for p in [
        (-4, -0.95, -0.83),
    ]]
    chamfer(chamfer1_part_20_edges, length=CHAMFER1_PART_20_SIZE, length2=CHAMFER1_PART_20_SIZE2, reference=chamfer1_part_20_side[0])

    # Chamfer1 part 21
    chamfer1_part_21_edges = [part.edges().sort_by_distance(p)[0] for p in [
        (-4, 5.7, -0.83),
    ]]
    chamfer1_part_21_side = [part.faces().sort_by_distance(p)[0] for p in [
        (-4, 3.75, -0.83),
    ]]
    chamfer(chamfer1_part_21_edges, length=CHAMFER1_PART_21_SIZE, length2=CHAMFER1_PART_21_SIZE2, reference=chamfer1_part_21_side[0])

    # Chamfer1 part 22
    chamfer1_part_22_edges = [part.edges().sort_by_distance(p)[0] for p in [
        (-4.25, 5.7, -0.58),
    ]]
    chamfer1_part_22_side = [part.faces().sort_by_distance(p)[0] for p in [
        (-4.25, 3.75, -0.58),
    ]]
    chamfer(chamfer1_part_22_edges, length=CHAMFER1_PART_22_SIZE, length2=CHAMFER1_PART_22_SIZE2, reference=chamfer1_part_22_side[0])

    # Chamfer1 part 23
    chamfer1_part_23_edges = [part.edges().sort_by_distance(p)[0] for p in [
        (-4, 5.7, -0.33),
    ]]
    chamfer1_part_23_side = [part.faces().sort_by_distance(p)[0] for p in [
        (-4, 3.75, -0.33),
    ]]
    chamfer(chamfer1_part_23_edges, length=CHAMFER1_PART_23_SIZE, length2=CHAMFER1_PART_23_SIZE2, reference=chamfer1_part_23_side[0])

    # Chamfer1 part 24
    chamfer1_part_24_edges = [part.edges().sort_by_distance(p)[0] for p in [
        (-3.75, 5.7, -0.58),
    ]]
    chamfer1_part_24_side = [part.faces().sort_by_distance(p)[0] for p in [
        (-3.75, 3.75, -0.58),
    ]]
    chamfer(chamfer1_part_24_edges, length=CHAMFER1_PART_24_SIZE, length2=CHAMFER1_PART_24_SIZE2, reference=chamfer1_part_24_side[0])

    # Chamfer1 part 25
    chamfer1_part_25_edges = [part.edges().sort_by_distance(p)[0] for p in [
        (1.75, -2, -0.58),
    ]]
    chamfer1_part_25_side = [part.faces().sort_by_distance(p)[0] for p in [
        (1.75, -0.95, -0.58),
    ]]
    chamfer(chamfer1_part_25_edges, length=CHAMFER1_PART_25_SIZE, length2=CHAMFER1_PART_25_SIZE2, reference=chamfer1_part_25_side[0])

    # Chamfer1 part 26
    chamfer1_part_26_edges = [part.edges().sort_by_distance(p)[0] for p in [
        (2, -2, -0.33),
    ]]
    chamfer1_part_26_side = [part.faces().sort_by_distance(p)[0] for p in [
        (2, -0.95, -0.33),
    ]]
    chamfer(chamfer1_part_26_edges, length=CHAMFER1_PART_26_SIZE, length2=CHAMFER1_PART_26_SIZE2, reference=chamfer1_part_26_side[0])

    # Chamfer1 part 27
    chamfer1_part_27_edges = [part.edges().sort_by_distance(p)[0] for p in [
        (2.25, -2, -0.58),
    ]]
    chamfer1_part_27_side = [part.faces().sort_by_distance(p)[0] for p in [
        (2.25, -0.95, -0.58),
    ]]
    chamfer(chamfer1_part_27_edges, length=CHAMFER1_PART_27_SIZE, length2=CHAMFER1_PART_27_SIZE2, reference=chamfer1_part_27_side[0])

    # Chamfer1 part 28
    chamfer1_part_28_edges = [part.edges().sort_by_distance(p)[0] for p in [
        (2, -2, -0.83),
    ]]
    chamfer1_part_28_side = [part.faces().sort_by_distance(p)[0] for p in [
        (2, -0.95, -0.83),
    ]]
    chamfer(chamfer1_part_28_edges, length=CHAMFER1_PART_28_SIZE, length2=CHAMFER1_PART_28_SIZE2, reference=chamfer1_part_28_side[0])

    # Chamfer1 part 29
    chamfer1_part_29_edges = [part.edges().sort_by_distance(p)[0] for p in [
        (2, 5.7, -0.83),
    ]]
    chamfer1_part_29_side = [part.faces().sort_by_distance(p)[0] for p in [
        (2, 3.75, -0.83),
    ]]
    chamfer(chamfer1_part_29_edges, length=CHAMFER1_PART_29_SIZE, length2=CHAMFER1_PART_29_SIZE2, reference=chamfer1_part_29_side[0])

    # Chamfer1 part 30
    chamfer1_part_30_edges = [part.edges().sort_by_distance(p)[0] for p in [
        (1.75, 5.7, -0.58),
    ]]
    chamfer1_part_30_side = [part.faces().sort_by_distance(p)[0] for p in [
        (1.75, 3.75, -0.58),
    ]]
    chamfer(chamfer1_part_30_edges, length=CHAMFER1_PART_30_SIZE, length2=CHAMFER1_PART_30_SIZE2, reference=chamfer1_part_30_side[0])

    # Chamfer1 part 31
    chamfer1_part_31_edges = [part.edges().sort_by_distance(p)[0] for p in [
        (2, 5.7, -0.33),
    ]]
    chamfer1_part_31_side = [part.faces().sort_by_distance(p)[0] for p in [
        (2, 3.75, -0.33),
    ]]
    chamfer(chamfer1_part_31_edges, length=CHAMFER1_PART_31_SIZE, length2=CHAMFER1_PART_31_SIZE2, reference=chamfer1_part_31_side[0])

    # Chamfer1 part 32
    chamfer1_part_32_edges = [part.edges().sort_by_distance(p)[0] for p in [
        (2.25, 5.7, -0.58),
    ]]
    chamfer1_part_32_side = [part.faces().sort_by_distance(p)[0] for p in [
        (2.25, 3.75, -0.58),
    ]]
    chamfer(chamfer1_part_32_edges, length=CHAMFER1_PART_32_SIZE, length2=CHAMFER1_PART_32_SIZE2, reference=chamfer1_part_32_side[0])

    # Chamfer1 part 33
    chamfer1_part_33_edges = [part.edges().sort_by_distance(p)[0] for p in [
        (3.75, -2, -0.58),
    ]]
    chamfer1_part_33_side = [part.faces().sort_by_distance(p)[0] for p in [
        (3.75, -0.95, -0.58),
    ]]
    chamfer(chamfer1_part_33_edges, length=CHAMFER1_PART_33_SIZE, length2=CHAMFER1_PART_33_SIZE2, reference=chamfer1_part_33_side[0])

    # Chamfer1 part 34
    chamfer1_part_34_edges = [part.edges().sort_by_distance(p)[0] for p in [
        (4, -2, -0.33),
    ]]
    chamfer1_part_34_side = [part.faces().sort_by_distance(p)[0] for p in [
        (4, -0.95, -0.33),
    ]]
    chamfer(chamfer1_part_34_edges, length=CHAMFER1_PART_34_SIZE, length2=CHAMFER1_PART_34_SIZE2, reference=chamfer1_part_34_side[0])

    # Chamfer1 part 35
    chamfer1_part_35_edges = [part.edges().sort_by_distance(p)[0] for p in [
        (4.25, -2, -0.58),
    ]]
    chamfer1_part_35_side = [part.faces().sort_by_distance(p)[0] for p in [
        (4.25, -0.95, -0.58),
    ]]
    chamfer(chamfer1_part_35_edges, length=CHAMFER1_PART_35_SIZE, length2=CHAMFER1_PART_35_SIZE2, reference=chamfer1_part_35_side[0])

    # Chamfer1 part 36
    chamfer1_part_36_edges = [part.edges().sort_by_distance(p)[0] for p in [
        (4, -2, -0.83),
    ]]
    chamfer1_part_36_side = [part.faces().sort_by_distance(p)[0] for p in [
        (4, -0.95, -0.83),
    ]]
    chamfer(chamfer1_part_36_edges, length=CHAMFER1_PART_36_SIZE, length2=CHAMFER1_PART_36_SIZE2, reference=chamfer1_part_36_side[0])

    # Chamfer1 part 37
    chamfer1_part_37_edges = [part.edges().sort_by_distance(p)[0] for p in [
        (4, 5.7, -0.83),
    ]]
    chamfer1_part_37_side = [part.faces().sort_by_distance(p)[0] for p in [
        (4, 3.75, -0.83),
    ]]
    chamfer(chamfer1_part_37_edges, length=CHAMFER1_PART_37_SIZE, length2=CHAMFER1_PART_37_SIZE2, reference=chamfer1_part_37_side[0])

    # Chamfer1 part 38
    chamfer1_part_38_edges = [part.edges().sort_by_distance(p)[0] for p in [
        (3.75, 5.7, -0.58),
    ]]
    chamfer1_part_38_side = [part.faces().sort_by_distance(p)[0] for p in [
        (3.75, 3.75, -0.58),
    ]]
    chamfer(chamfer1_part_38_edges, length=CHAMFER1_PART_38_SIZE, length2=CHAMFER1_PART_38_SIZE2, reference=chamfer1_part_38_side[0])

    # Chamfer1 part 39
    chamfer1_part_39_edges = [part.edges().sort_by_distance(p)[0] for p in [
        (4, 5.7, -0.33),
    ]]
    chamfer1_part_39_side = [part.faces().sort_by_distance(p)[0] for p in [
        (4, 3.75, -0.33),
    ]]
    chamfer(chamfer1_part_39_edges, length=CHAMFER1_PART_39_SIZE, length2=CHAMFER1_PART_39_SIZE2, reference=chamfer1_part_39_side[0])

    # Chamfer1 part 40
    chamfer1_part_40_edges = [part.edges().sort_by_distance(p)[0] for p in [
        (4.25, 5.7, -0.58),
    ]]
    chamfer1_part_40_side = [part.faces().sort_by_distance(p)[0] for p in [
        (4.25, 3.75, -0.58),
    ]]
    chamfer(chamfer1_part_40_edges, length=CHAMFER1_PART_40_SIZE, length2=CHAMFER1_PART_40_SIZE2, reference=chamfer1_part_40_side[0])


solid = part.part
